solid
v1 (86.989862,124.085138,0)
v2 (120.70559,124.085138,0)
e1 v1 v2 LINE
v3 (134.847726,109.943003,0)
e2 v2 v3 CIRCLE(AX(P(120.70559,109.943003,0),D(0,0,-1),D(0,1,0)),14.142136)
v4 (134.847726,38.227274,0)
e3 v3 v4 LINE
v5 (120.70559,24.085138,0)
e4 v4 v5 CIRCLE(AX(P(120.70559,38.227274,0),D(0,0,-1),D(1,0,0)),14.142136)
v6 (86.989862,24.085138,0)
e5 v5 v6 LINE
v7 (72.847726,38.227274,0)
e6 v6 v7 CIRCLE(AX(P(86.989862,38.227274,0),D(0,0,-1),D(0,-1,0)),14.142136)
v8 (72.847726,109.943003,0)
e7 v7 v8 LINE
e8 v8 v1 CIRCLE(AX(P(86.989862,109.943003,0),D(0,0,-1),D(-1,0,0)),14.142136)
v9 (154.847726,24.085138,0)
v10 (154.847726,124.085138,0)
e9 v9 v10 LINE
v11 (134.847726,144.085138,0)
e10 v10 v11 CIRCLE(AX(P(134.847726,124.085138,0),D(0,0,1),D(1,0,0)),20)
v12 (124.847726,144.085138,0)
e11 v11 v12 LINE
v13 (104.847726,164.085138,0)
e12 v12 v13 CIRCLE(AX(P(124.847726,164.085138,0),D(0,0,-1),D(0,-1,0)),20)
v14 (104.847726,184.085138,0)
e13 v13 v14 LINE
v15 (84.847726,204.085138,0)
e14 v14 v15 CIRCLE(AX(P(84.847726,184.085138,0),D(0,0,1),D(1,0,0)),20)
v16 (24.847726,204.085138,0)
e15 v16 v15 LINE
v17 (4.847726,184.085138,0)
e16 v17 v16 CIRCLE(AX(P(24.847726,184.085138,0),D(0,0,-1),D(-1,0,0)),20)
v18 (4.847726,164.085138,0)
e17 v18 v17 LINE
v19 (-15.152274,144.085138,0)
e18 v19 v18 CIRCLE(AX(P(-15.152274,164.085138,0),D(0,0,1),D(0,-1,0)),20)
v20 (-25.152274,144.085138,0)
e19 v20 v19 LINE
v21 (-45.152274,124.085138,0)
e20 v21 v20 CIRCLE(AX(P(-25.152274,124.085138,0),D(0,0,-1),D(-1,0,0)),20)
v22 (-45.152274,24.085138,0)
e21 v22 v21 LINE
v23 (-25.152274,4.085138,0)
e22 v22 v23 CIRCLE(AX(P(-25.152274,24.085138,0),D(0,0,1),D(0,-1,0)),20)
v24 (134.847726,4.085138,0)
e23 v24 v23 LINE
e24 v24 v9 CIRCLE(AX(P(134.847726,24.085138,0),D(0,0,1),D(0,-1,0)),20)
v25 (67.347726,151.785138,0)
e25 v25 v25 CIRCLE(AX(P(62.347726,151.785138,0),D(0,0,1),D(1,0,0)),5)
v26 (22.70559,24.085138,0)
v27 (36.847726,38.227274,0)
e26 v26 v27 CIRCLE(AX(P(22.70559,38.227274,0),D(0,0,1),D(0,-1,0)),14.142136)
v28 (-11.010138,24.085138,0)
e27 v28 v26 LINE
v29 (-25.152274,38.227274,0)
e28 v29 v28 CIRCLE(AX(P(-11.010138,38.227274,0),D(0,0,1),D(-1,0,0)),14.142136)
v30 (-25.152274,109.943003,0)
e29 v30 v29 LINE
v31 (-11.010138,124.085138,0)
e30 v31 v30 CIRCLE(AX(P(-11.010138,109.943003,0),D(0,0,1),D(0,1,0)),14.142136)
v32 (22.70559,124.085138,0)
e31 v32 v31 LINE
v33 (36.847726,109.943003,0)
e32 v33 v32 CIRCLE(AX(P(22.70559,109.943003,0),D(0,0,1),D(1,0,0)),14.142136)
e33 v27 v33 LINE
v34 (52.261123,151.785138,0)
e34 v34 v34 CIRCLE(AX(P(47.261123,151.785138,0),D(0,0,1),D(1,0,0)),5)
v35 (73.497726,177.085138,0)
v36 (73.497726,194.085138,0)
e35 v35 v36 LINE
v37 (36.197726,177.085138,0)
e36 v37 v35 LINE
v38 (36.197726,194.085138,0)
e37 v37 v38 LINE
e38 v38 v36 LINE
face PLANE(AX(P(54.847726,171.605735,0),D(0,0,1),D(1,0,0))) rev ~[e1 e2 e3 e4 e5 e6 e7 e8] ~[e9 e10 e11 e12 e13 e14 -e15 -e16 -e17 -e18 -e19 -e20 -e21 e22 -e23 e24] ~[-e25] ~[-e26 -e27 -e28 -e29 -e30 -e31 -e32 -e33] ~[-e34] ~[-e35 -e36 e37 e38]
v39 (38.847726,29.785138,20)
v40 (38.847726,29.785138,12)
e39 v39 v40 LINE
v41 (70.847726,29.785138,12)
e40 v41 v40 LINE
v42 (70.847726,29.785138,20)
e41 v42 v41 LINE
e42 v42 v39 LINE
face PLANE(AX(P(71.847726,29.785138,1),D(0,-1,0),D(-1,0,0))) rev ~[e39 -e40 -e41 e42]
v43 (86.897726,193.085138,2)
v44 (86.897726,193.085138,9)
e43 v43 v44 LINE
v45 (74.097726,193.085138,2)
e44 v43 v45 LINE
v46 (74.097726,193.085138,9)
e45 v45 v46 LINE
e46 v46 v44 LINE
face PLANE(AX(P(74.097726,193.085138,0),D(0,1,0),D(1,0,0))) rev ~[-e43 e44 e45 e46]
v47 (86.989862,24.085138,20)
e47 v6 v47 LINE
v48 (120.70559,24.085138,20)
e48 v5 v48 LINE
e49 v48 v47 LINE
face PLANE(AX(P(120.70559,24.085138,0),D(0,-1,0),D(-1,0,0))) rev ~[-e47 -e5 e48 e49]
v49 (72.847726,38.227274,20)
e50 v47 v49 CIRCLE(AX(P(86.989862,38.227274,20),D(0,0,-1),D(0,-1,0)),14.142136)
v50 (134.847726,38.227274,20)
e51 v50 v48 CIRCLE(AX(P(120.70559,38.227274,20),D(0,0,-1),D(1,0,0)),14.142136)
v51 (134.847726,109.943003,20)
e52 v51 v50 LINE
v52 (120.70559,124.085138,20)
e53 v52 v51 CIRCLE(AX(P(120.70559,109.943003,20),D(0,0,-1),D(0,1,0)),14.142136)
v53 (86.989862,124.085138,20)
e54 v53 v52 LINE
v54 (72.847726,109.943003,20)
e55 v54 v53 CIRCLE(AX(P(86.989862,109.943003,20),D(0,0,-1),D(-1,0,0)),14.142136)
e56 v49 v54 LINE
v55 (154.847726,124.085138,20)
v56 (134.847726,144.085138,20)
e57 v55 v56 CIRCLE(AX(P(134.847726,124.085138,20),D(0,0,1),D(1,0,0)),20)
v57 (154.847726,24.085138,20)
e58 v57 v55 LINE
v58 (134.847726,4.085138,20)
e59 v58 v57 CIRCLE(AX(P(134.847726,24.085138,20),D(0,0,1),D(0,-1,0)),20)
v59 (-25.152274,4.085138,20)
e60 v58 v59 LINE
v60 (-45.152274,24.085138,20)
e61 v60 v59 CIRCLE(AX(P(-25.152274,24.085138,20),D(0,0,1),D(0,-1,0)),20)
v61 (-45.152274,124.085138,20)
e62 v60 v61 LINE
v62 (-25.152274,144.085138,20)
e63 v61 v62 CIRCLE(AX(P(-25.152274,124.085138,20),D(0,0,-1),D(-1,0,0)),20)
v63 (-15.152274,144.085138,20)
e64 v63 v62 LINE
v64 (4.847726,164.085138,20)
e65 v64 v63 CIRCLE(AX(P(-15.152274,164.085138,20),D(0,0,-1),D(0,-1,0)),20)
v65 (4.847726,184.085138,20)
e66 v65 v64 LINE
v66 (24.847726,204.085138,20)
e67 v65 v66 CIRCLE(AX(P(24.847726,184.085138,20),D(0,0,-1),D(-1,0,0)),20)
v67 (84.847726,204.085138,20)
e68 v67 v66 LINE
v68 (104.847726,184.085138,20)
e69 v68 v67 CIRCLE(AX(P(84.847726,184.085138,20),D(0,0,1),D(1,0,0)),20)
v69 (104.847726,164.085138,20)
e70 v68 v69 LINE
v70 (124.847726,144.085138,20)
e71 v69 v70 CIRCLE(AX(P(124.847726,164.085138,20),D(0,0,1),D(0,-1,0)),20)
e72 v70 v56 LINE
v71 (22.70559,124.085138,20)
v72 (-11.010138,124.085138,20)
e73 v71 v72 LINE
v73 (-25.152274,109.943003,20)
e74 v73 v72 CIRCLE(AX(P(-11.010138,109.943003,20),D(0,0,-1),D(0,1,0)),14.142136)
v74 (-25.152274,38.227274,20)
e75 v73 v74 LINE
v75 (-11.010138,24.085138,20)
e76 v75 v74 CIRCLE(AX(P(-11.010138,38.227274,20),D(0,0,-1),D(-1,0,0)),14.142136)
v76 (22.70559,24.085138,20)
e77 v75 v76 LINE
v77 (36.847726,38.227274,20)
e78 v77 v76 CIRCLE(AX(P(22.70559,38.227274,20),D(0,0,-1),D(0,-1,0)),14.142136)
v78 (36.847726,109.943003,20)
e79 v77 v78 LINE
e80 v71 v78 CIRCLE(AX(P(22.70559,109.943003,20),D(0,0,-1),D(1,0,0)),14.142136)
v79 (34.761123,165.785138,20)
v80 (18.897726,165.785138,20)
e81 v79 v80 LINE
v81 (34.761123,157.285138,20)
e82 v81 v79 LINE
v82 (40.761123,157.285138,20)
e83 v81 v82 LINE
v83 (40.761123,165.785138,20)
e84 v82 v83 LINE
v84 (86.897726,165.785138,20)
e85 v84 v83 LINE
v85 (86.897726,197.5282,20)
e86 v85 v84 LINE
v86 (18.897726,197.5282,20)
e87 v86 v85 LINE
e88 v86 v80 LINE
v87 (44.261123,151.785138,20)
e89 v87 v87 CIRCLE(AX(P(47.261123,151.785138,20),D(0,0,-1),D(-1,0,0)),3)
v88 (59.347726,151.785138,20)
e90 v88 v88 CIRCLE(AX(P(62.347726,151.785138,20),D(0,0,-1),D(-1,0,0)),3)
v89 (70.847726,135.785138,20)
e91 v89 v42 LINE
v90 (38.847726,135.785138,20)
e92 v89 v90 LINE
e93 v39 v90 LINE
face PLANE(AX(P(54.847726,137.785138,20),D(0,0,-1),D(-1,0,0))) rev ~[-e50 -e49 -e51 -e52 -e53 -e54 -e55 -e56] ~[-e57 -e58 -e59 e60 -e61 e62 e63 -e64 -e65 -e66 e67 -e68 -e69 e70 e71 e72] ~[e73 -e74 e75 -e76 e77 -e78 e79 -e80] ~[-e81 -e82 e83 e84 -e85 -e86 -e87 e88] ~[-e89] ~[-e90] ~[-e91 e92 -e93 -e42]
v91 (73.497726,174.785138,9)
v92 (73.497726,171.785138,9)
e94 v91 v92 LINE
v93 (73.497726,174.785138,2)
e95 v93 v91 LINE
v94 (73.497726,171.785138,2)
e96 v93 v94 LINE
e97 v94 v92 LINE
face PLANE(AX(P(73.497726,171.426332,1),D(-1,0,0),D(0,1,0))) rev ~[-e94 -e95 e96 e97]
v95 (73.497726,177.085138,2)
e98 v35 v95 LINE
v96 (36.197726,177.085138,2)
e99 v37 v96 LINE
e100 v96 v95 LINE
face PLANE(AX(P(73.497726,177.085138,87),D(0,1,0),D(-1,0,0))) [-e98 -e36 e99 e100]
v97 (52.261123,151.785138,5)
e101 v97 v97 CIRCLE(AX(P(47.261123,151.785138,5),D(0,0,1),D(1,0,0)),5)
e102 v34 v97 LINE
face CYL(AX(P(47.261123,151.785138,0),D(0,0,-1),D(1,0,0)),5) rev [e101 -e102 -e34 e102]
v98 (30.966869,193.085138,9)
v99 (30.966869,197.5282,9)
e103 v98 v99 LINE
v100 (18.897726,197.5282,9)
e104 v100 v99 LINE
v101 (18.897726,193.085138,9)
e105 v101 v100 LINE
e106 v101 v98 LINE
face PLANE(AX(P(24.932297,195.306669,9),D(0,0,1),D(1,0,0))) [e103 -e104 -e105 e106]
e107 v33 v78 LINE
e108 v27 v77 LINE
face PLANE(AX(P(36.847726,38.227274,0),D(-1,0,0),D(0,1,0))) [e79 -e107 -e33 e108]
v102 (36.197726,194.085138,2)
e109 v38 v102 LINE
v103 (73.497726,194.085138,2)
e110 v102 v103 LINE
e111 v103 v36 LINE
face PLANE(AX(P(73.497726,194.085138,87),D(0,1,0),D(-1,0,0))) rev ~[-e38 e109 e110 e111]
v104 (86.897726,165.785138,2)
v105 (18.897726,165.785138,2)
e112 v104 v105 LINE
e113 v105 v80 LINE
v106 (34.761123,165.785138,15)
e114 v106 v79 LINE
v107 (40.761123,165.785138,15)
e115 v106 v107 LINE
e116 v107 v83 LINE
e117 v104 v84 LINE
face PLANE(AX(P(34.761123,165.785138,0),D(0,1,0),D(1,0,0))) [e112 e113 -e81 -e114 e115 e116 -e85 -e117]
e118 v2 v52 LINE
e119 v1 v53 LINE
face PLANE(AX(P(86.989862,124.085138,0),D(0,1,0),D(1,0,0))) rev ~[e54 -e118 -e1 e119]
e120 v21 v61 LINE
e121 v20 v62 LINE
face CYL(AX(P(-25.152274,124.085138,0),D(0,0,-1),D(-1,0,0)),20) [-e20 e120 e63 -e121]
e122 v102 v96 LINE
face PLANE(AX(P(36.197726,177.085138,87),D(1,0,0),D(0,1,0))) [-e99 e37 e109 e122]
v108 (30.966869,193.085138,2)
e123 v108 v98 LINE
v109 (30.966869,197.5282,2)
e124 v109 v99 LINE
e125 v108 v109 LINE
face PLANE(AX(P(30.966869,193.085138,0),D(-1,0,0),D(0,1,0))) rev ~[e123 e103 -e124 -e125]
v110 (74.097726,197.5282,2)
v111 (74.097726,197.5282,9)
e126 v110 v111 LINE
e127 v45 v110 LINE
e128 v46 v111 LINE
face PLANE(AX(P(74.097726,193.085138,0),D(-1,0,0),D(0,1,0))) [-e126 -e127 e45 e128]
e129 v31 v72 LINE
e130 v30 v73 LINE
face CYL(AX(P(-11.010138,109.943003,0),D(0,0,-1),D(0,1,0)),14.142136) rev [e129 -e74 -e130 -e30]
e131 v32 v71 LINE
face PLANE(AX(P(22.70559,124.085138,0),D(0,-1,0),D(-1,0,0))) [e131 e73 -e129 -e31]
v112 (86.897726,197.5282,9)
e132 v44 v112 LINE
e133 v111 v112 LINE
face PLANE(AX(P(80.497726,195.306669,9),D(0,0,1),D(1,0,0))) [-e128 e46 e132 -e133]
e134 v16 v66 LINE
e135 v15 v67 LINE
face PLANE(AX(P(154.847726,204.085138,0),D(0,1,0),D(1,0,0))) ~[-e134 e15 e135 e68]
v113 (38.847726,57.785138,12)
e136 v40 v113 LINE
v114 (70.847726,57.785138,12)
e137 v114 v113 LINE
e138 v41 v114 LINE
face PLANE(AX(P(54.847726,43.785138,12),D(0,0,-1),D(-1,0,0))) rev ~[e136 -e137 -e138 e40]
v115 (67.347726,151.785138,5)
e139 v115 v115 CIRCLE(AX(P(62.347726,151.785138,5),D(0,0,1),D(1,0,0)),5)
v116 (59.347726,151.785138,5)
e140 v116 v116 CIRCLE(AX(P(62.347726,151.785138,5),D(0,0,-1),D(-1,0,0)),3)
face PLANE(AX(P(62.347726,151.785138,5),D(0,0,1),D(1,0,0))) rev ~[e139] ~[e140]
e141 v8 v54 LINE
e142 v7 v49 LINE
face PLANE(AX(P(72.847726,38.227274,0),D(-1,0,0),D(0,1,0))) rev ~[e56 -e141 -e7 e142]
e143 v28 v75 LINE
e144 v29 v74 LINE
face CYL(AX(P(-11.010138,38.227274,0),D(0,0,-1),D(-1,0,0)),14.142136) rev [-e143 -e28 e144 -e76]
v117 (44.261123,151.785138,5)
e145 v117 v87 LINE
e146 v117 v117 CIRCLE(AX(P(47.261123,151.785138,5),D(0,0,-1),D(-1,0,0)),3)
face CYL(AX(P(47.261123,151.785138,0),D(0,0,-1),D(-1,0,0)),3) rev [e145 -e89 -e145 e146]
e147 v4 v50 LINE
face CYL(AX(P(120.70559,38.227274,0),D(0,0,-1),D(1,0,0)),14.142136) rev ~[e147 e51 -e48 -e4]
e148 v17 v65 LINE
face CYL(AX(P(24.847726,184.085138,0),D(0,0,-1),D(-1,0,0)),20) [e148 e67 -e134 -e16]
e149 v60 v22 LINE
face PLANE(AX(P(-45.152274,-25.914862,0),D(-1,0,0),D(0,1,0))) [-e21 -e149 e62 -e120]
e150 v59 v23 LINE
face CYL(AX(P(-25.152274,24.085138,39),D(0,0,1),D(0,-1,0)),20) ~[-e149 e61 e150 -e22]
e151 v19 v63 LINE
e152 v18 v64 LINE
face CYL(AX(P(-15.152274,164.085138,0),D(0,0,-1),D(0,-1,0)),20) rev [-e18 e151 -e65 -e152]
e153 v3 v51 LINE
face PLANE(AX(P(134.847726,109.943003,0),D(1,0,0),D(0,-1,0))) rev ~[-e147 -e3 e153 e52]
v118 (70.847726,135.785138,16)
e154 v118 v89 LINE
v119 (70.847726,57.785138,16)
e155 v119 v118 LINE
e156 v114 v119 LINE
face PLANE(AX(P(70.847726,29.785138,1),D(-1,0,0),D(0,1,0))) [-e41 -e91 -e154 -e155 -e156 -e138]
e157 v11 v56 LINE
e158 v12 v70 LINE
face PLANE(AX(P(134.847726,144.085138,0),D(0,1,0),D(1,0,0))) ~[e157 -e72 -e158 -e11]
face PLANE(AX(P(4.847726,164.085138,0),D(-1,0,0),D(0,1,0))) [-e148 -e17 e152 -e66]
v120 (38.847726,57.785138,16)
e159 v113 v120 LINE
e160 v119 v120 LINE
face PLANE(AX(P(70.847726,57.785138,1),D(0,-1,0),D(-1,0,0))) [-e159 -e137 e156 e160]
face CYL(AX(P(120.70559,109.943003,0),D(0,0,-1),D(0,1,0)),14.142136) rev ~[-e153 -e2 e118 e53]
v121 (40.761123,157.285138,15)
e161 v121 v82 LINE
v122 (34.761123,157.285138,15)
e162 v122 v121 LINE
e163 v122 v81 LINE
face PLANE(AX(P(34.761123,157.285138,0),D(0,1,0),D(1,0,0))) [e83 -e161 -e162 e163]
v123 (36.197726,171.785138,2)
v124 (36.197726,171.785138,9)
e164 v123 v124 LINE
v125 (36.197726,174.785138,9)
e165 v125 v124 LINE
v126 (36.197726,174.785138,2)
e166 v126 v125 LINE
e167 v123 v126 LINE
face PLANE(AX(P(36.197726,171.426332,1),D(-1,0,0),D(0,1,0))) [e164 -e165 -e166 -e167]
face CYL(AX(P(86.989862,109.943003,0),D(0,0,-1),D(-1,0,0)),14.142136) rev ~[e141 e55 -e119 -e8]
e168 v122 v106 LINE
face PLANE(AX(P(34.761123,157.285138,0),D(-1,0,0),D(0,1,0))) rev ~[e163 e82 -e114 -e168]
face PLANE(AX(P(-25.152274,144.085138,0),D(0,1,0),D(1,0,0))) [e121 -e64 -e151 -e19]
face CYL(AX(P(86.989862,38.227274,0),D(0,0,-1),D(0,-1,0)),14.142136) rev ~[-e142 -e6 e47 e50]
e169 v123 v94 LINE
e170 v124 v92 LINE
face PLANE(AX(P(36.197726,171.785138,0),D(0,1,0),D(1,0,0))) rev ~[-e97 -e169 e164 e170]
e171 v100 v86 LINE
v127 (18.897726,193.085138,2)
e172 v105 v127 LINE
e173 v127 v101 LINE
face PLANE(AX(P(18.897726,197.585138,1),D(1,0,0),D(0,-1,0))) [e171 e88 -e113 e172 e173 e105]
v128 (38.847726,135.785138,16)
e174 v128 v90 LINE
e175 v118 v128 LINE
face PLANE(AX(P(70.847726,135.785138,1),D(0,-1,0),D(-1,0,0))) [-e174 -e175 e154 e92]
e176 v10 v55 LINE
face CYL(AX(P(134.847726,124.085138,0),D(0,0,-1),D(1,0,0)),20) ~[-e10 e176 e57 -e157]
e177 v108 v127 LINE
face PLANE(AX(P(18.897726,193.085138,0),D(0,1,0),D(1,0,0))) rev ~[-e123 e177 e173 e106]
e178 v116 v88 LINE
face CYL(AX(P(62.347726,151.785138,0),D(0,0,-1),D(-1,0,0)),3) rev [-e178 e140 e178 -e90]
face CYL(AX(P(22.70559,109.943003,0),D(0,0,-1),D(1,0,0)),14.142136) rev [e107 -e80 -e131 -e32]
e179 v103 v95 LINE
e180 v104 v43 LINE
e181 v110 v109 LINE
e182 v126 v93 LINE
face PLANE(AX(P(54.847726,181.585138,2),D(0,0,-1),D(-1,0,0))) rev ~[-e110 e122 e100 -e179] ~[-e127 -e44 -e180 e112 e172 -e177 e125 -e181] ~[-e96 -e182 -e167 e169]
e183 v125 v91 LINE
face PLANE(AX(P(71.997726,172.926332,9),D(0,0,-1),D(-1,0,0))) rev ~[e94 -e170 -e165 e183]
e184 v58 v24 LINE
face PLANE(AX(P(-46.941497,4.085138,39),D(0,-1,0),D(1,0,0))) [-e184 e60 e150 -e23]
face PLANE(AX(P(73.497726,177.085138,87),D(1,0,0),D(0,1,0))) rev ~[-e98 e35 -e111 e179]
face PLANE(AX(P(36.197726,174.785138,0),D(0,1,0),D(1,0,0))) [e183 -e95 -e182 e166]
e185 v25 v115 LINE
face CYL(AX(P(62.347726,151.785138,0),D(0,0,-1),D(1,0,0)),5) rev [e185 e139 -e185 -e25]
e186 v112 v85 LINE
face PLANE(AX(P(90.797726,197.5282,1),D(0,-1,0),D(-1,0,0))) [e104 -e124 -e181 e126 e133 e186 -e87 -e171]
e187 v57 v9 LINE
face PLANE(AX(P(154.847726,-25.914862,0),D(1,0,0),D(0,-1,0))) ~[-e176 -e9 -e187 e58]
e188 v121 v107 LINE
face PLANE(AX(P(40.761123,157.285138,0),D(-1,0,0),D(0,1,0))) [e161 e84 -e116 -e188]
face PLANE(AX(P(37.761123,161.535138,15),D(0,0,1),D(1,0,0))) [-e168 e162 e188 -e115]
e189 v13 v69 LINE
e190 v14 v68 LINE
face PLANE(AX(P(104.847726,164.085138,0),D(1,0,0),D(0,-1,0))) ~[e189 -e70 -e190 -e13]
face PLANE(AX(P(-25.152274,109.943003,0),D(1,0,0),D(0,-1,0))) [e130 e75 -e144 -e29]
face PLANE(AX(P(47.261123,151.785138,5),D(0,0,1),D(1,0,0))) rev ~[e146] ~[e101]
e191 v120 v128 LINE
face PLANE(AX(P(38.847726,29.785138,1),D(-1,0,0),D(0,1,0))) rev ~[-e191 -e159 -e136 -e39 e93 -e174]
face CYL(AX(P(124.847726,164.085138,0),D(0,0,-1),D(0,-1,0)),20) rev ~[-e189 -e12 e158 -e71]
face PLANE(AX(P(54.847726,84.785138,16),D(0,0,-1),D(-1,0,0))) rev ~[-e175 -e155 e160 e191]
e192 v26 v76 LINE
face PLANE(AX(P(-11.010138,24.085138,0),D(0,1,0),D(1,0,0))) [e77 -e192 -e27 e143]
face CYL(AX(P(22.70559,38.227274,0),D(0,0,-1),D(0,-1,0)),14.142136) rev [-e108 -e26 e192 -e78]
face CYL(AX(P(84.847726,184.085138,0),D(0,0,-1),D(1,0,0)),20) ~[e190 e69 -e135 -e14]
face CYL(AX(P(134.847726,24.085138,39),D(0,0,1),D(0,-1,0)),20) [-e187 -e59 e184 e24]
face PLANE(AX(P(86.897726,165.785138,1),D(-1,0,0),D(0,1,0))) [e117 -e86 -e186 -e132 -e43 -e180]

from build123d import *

# Parameters (mm, degrees)
IZIM1_W                      = 200
IZIM1_H                      = 230
Y_KSEKLIK_EKSTR_ZYON1_DEPTH  = 20
KES_EKSTR_ZYON11_DEPTH       = 75
IZIM4_W                      = 100
IZIM4_H                      = 230
KES_EKSTR_ZYON12_DEPTH       = 90
IZIM10_W                     = 32
IZIM10_H                     = 136
Y_KSEKLIK_EKSTR_ZYON6_DEPTH  = 20
KES_EKSTR_ZYON15_DEPTH       = 222
KES_EKSTR_ZYON15_DEPTH_BACK  = 26
Y_KSEKLIK_EKSTR_ZYON7_DEPTH  = 20
IZIM16_W                     = 37.3
IZIM16_H                     = 17
KES_EKSTR_ZYON16_DEPTH       = 20
KES_EKSTR_ZYON20_DEPTH       = 42
KES_EKSTR_ZYON21_DEPTH       = 42
IZIM20_W                     = 71.9
IZIM20_H                     = 2
KES_EKSTR_ZYON22_DEPTH       = 42
IZIM21_R                     = 1.5
Y_KSEKLIK_EKSTR_ZYON8_DEPTH  = 15
IZIM22_W                     = 3
IZIM22_H                     = 3
Y_KSEKLIK_EKSTR_ZYON9_DEPTH  = 8
IZIM23_W                     = 71.9
IZIM23_H                     = 36
Y_KSEKLIK_EKSTR_ZYON10_DEPTH = 1
KES_EKSTR_ZYON23_DEPTH       = 56
KES_EKSTR_ZYON23_DEPTH_BACK  = 86
IZIM24_W                     = 37.3
IZIM24_H                     = 17
IZIM26_W                     = 3
IZIM26_H                     = 3
Y_KSEKLIK_EKSTR_ZYON11_DEPTH = 8
IZIM27_W                     = 71.9
IZIM27_H                     = 2.056938391
Y_KSEKLIK_EKSTR_ZYON13_DEPTH = 19
Y_KSEKLIK_EKSTR_ZYON16_DEPTH = 19
IZIM31_W                     = 3
IZIM31_H                     = 3
Y_KSEKLIK_EKSTR_ZYON18_DEPTH = 8
IZIM32_R                     = 1.5
KES_EKSTR_ZYON24_DEPTH       = 32
IZIM33_R                     = 1.5
Y_KSEKLIK_EKSTR_ZYON19_DEPTH = 12
KES_EKSTR_ZYON27_DEPTH       = 1
KES_EKSTR_ZYON27_DEPTH_BACK  = 3
IZIM37_R                     = 2.5
KES_EKSTR_ZYON28_DEPTH       = 33
IZIM38_W                     = 34
IZIM38_H                     = 110
KES_EKSTR_ZYON33_DEPTH       = 42
IZIM40_W                     = 34
IZIM40_H                     = 110
Y_KSEKLIK_EKSTR_ZYON21_DEPTH = 15
IZIM41_W                     = 4
IZIM41_H                     = 8.5
KES_EKSTR_ZYON35_DEPTH       = 21
IZIM44_W                     = 4
IZIM44_H                     = 8.5
Y_KSEKLIK_EKSTR_ZYON23_DEPTH = 14
IZIM45_W                     = 1
IZIM45_H                     = 110
Y_KSEKLIK_EKSTR_ZYON25_DEPTH = 19
IZIM46_W                     = 12.0691428
IZIM46_H                     = 4.443061609
IZIM46_W_2                   = 12.8
Y_KSEKLIK_EKSTR_ZYON27_DEPTH = 8
IZIM47_W                     = 37.3
IZIM47_H                     = 3
Y_KSEKLIK_EKSTR_ZYON28_DEPTH = 8
KES_EKSTR_ZYON36_DEPTH       = 10
KES_EKSTR_ZYON36_DEPTH_BACK  = 38
IZIM48_W                     = 201.789222688
IZIM48_H                     = 30
KES_EKSTR_ZYON37_DEPTH       = 38
KES_EKSTR_ZYON37_DEPTH_BACK  = 38
KES_EKSTR_ZYON38_DEPTH       = 38
KES_EKSTR_ZYON38_DEPTH_BACK  = 38
SKETCH1_W                    = 32
SKETCH1_H                    = 28
CUT_EXTRUDE1_DEPTH           = 55
SKETCH2_W                    = 32
SKETCH2_H                    = 28
BOSS_EXTRUDE1_DEPTH          = 11
SKETCH3_W                    = 32
SKETCH3_H                    = 4
BOSS_EXTRUDE2_DEPTH          = 19
SKETCH4_W                    = 37.3
SKETCH4_H                    = 0.358806935
CUT_EXTRUDE3_DEPTH           = 11
SKETCH5_W                    = 37.3
SKETCH5_H                    = 0.35880693
BOSS_EXTRUDE3_DEPTH          = 9
SKETCH6_W                    = 37.3
SKETCH6_H                    = 0.358806935
BOSS_EXTRUDE4_DEPTH          = 2
SKETCH7_W                    = 6
SKETCH7_H                    = 8.5
CUT_EXTRUDE4_DEPTH           = 20
SKETCH8_W                    = 6
SKETCH8_H                    = 8.5
BOSS_EXTRUDE5_DEPTH          = 15
SKETCH9_R                    = 3
CUT_EXTRUDE5_DEPTH           = 27
SKETCH10_W                   = 12.0691428
SKETCH10_H                   = 4.443061609
CUT_EXTRUDE8_DEPTH           = 20
SKETCH11_W                   = 12.8
SKETCH11_H                   = 4.443061609
CUT_EXTRUDE9_DEPTH           = 22
SKETCH12_W                   = 12.0691428
SKETCH12_H                   = 4.443061609
SKETCH12_W_2                 = 12.8
BOSS_EXTRUDE6_DEPTH          = 9
CUT_EXTRUDE10_DEPTH          = 37
SKETCH14_R                   = 5
CUT_EXTRUDE11_DEPTH          = 5


with BuildPart() as part:
    # Çizim1 → Yükseklik-Ekstrüzyon1 (new body)
    with BuildSketch(Plane.XY):
        with Locations((54.847725907, 89.085138461)):
            Rectangle(IZIM1_W, IZIM1_H)
    extrude(amount=Y_KSEKLIK_EKSTR_ZYON1_DEPTH)

    # Çizim2 → Kes-Ekstrüzyon11 (cut)
    with BuildSketch(Plane.XY):
        with BuildLine():
            Line((4.847725907, 164.085138461), (4.847725907, 184.085138461))
            ThreePointArc((4.847725907, 184.085138461), (10.705590284, 198.227274085), (24.847725907, 204.085138461))
            Line((24.847725907, 204.085138461), (-45.152274093, 204.085138461))
            Line((-45.152274093, 204.085138461), (-45.152274093, 124.085138461))
            ThreePointArc((-45.152274093, 124.085138461), (-39.294409716, 138.227274085), (-25.152274093, 144.085138461))
            Line((-25.152274093, 144.085138461), (-15.152274093, 144.085138461))
            ThreePointArc((-15.152274093, 144.085138461), (-1.010138469, 149.943002837), (4.847725907, 164.085138461))
        make_face()
        with BuildLine():
            Line((-45.152274093, -25.914861539), (-25.152274093, -25.914861539))
            ThreePointArc((-25.152274093, -25.914861539), (-39.294409716, -20.056997163), (-45.152274093, -5.914861539))
            Line((-45.152274093, -5.914861539), (-45.152274093, -25.914861539))
        make_face()
    extrude(amount=KES_EKSTR_ZYON11_DEPTH, mode=Mode.SUBTRACT)

    # Çizim4 → Kes-Ekstrüzyon12 (cut)
    with BuildSketch(Plane.XY):
        with Locations((104.847725907, 89.085138461)):
            Rectangle(IZIM4_W, IZIM4_H)
    extrude(amount=KES_EKSTR_ZYON12_DEPTH, mode=Mode.SUBTRACT)

    # Aynalama35: part across plane


with BuildPart() as part_1:
    add(part.part)
    add(part.part.mirror(Plane(origin=(54.847725907, 0, 90), x_dir=(0, 0, 1), z_dir=(-1, 0, 0))))

    # Çizim10 → Yükseklik-Ekstrüzyon6 (add)
    with BuildSketch(Plane.XY):
        Polygon((38.847725907, 129.085138461), (72.847725907, 129.085138461), (72.847725907, -10.914861539), (36.847725907, -10.914861539), (36.847725907, 129.085138461), align=None)
        with Locations((54.847725907, 59.085138461)):
            Rectangle(IZIM10_W, IZIM10_H, mode=Mode.SUBTRACT)
    extrude(amount=-Y_KSEKLIK_EKSTR_ZYON6_DEPTH)

    # Çizim11 → Kes-Ekstrüzyon15 (cut, two sides: drawn at the far end of the back side and taken through both)
    with BuildSketch(Plane(origin=(0, 0, 0), x_dir=(0, 0, -1), z_dir=(1, 0, 0)).offset(-KES_EKSTR_ZYON15_DEPTH_BACK)):
        Polygon((20, -10.914861539), (14, -10.914861539), (20, 129.085138461), align=None)
    extrude(amount=KES_EKSTR_ZYON15_DEPTH + KES_EKSTR_ZYON15_DEPTH_BACK, mode=Mode.SUBTRACT)

    # Çizim15 → Yükseklik-Ekstrüzyon7 (add)
    with BuildSketch(Plane.XY):
        with BuildLine():
            Line((-45.152274093, 124.085138461), (-45.152274093, -5.914861539))
            ThreePointArc((-45.152274093, -5.914861539), (-39.294409716, -20.056997163), (-25.152274093, -25.914861539))
            Line((-25.152274093, -25.914861539), (134.847725907, -25.914861539))
            ThreePointArc((134.847725907, -25.914861539), (148.989861531, -20.056997163), (154.847725907, -5.914861539))
            Line((154.847725907, -5.914861539), (154.847725907, 124.085138461))
            ThreePointArc((154.847725907, 124.085138461), (148.989861531, 138.227274085), (134.847725907, 144.085138461))
            Line((134.847725907, 144.085138461), (124.847725907, 144.085138461))
            ThreePointArc((124.847725907, 144.085138461), (110.705590284, 149.943002837), (104.847725907, 164.085138461))
            Line((104.847725907, 164.085138461), (104.847725907, 184.085138461))
            ThreePointArc((104.847725907, 184.085138461), (98.989861531, 198.227274085), (84.847725907, 204.085138461))
            Line((84.847725907, 204.085138461), (24.847725907, 204.085138461))
            ThreePointArc((24.847725907, 204.085138461), (10.705590284, 198.227274085), (4.847725907, 184.085138461))
            Line((4.847725907, 184.085138461), (4.847725907, 164.085138461))
            ThreePointArc((4.847725907, 164.085138461), (-1.010138469, 149.943002837), (-15.152274093, 144.085138461))
            Line((-15.152274093, 144.085138461), (-25.152274093, 144.085138461))
            ThreePointArc((-25.152274093, 144.085138461), (-39.294409716, 138.227274085), (-45.152274093, 124.085138461))
        make_face()
    extrude(amount=Y_KSEKLIK_EKSTR_ZYON7_DEPTH)

    # Çizim16 → Kes-Ekstrüzyon16 (cut)
    with BuildSketch(Plane.XY):
        with Locations((54.847725907, 185.585138461)):
            Rectangle(IZIM16_W, IZIM16_H)
    extrude(amount=KES_EKSTR_ZYON16_DEPTH, mode=Mode.SUBTRACT)

    # Çizim18 → Kes-Ekstrüzyon20 (cut)
    with BuildSketch(Plane(origin=(0, 0, 1), x_dir=(-1, 0, 0), z_dir=(0, 0, -1))):
        Polygon((-90.797725907, 197.585138461), (-90.797725907, 185.585138461), (-90.797725907, 163.585138461), (-18.897725907, 163.585138461), (-18.897725907, 197.585138461), align=None)
    extrude(amount=-KES_EKSTR_ZYON20_DEPTH, mode=Mode.SUBTRACT)

    # Çizim19 → Kes-Ekstrüzyon21 (cut)
    with BuildSketch(Plane(origin=(72.847725907, 0, 0), x_dir=(0, 0, -1), z_dir=(1, 0, 0))):
        Polygon((0, 129.085138461), (20, 129.085138461), (14, -10.914861539), (0, -10.914861539), align=None)
    extrude(amount=-KES_EKSTR_ZYON21_DEPTH, mode=Mode.SUBTRACT)

    # Çizim20 → Kes-Ekstrüzyon22 (cut)
    with BuildSketch(Plane(origin=(0, 0, 1), x_dir=(-1, 0, 0), z_dir=(0, 0, -1))):
        with Locations((-54.847725907, 198.585138461)):
            Rectangle(IZIM20_W, IZIM20_H)
    extrude(amount=-KES_EKSTR_ZYON22_DEPTH, mode=Mode.SUBTRACT)

    # Çizim21 → Yükseklik-Ekstrüzyon8 (add)
    with BuildSketch(Plane.XY.offset(1)):
        with Locations((27.697725907, 194.585138461)):
            Circle(IZIM21_R)
        with Locations((75.597725907, 194.585138461)):
            Circle(IZIM21_R)
    extrude(amount=Y_KSEKLIK_EKSTR_ZYON8_DEPTH)

    # Çizim22 → Yükseklik-Ekstrüzyon9 (add)
    with BuildSketch(Plane(origin=(0, 0, 1), x_dir=(-1, 0, 0), z_dir=(0, 0, -1))):
        with Locations((-71.997725907, 172.926331526)):
            Rectangle(IZIM22_W, IZIM22_H)
        with Locations((-37.697725907, 172.926331526)):
            Rectangle(IZIM22_W, IZIM22_H)
    extrude(amount=-Y_KSEKLIK_EKSTR_ZYON9_DEPTH)

    # Çizim23 → Yükseklik-Ekstrüzyon10 (add)
    with BuildSketch(Plane(origin=(0, 0, 1), x_dir=(-1, 0, 0), z_dir=(0, 0, -1))):
        with Locations((-54.847725907, 181.585138461)):
            Rectangle(IZIM23_W, IZIM23_H)
    extrude(amount=-Y_KSEKLIK_EKSTR_ZYON10_DEPTH)

    # Çizim24 → Kes-Ekstrüzyon23 (cut, two sides: drawn at the far end of the back side and taken through both)
    with BuildSketch(Plane(origin=(0, 0, 1), x_dir=(-1, 0, 0), z_dir=(0, 0, -1)).offset(-KES_EKSTR_ZYON23_DEPTH_BACK)):
        with Locations((-54.847725907, 185.585138461)):
            Rectangle(IZIM24_W, IZIM24_H)
    extrude(amount=KES_EKSTR_ZYON23_DEPTH + KES_EKSTR_ZYON23_DEPTH_BACK, mode=Mode.SUBTRACT)

    # Çizim26 → Yükseklik-Ekstrüzyon11 (add)
    with BuildSketch(Plane(origin=(0, 0, 1), x_dir=(-1, 0, 0), z_dir=(0, 0, -1))):
        with Locations((-37.697725907, 172.926331526)):
            Rectangle(IZIM26_W, IZIM26_H)
    extrude(amount=-Y_KSEKLIK_EKSTR_ZYON11_DEPTH)

    # Çizim27 → Yükseklik-Ekstrüzyon13 (add)
    with BuildSketch(Plane(origin=(0, 0, 1), x_dir=(-1, 0, 0), z_dir=(0, 0, -1))):
        with Locations((-54.847725907, 198.556669266)):
            Rectangle(IZIM27_W, IZIM27_H)
    extrude(amount=-Y_KSEKLIK_EKSTR_ZYON13_DEPTH)

    # Çizim29 → Yükseklik-Ekstrüzyon16 (add)
    with BuildSketch(Plane(origin=(0, 0, 1), x_dir=(-1, 0, 0), z_dir=(0, 0, -1))):
        Polygon((-18.897725907, 163.585138461), (-18.897725907, 165.785138461), (-86.897725907, 165.785138461), (-86.897725907, 197.52820007), (-90.797725907, 197.52820007), (-90.797725907, 163.585138461), align=None)
    extrude(amount=-Y_KSEKLIK_EKSTR_ZYON16_DEPTH)

    # Çizim31 → Yükseklik-Ekstrüzyon18 (add)
    with BuildSketch(Plane(origin=(0, 0, 1), x_dir=(-1, 0, 0), z_dir=(0, 0, -1))):
        with Locations((-37.697725907, 172.926331526)):
            Rectangle(IZIM31_W, IZIM31_H)
        with Locations((-71.997725907, 172.926331526)):
            Rectangle(IZIM31_W, IZIM31_H)
    extrude(amount=-Y_KSEKLIK_EKSTR_ZYON18_DEPTH)

    # Çizim32 → Kes-Ekstrüzyon24 (cut)
    with BuildSketch(Plane(origin=(0, 0, 1), x_dir=(-1, 0, 0), z_dir=(0, 0, -1))):
        with Locations((-27.697725907, 194.585138461)):
            Circle(IZIM32_R)
        with Locations((-75.597725907, 194.585138461)):
            Circle(IZIM32_R)
    extrude(amount=-KES_EKSTR_ZYON24_DEPTH, mode=Mode.SUBTRACT)

    # Çizim33 → Yükseklik-Ekstrüzyon19 (add)
    with BuildSketch(Plane(origin=(0, 0, 1), x_dir=(-1, 0, 0), z_dir=(0, 0, -1))):
        with Locations((-27.697725907, 194.585138461)):
            Circle(IZIM33_R)
        with Locations((-75.597725907, 194.585138461)):
            Circle(IZIM33_R)
    extrude(amount=-Y_KSEKLIK_EKSTR_ZYON19_DEPTH)

    # Çizim34 → Kes-Ekstrüzyon27 (cut, two sides: drawn at the far end of the back side and taken through both)
    with BuildSketch(Plane(origin=(0, 0, 1), x_dir=(-1, 0, 0), z_dir=(0, 0, -1)).offset(-KES_EKSTR_ZYON27_DEPTH_BACK)):
        Polygon((-50.869562549, 153.785138461), (-51.995395574, 151.835138461), (-49.628259471, 147.735138461), (-44.893987263, 147.735138461), (-42.52685116, 151.835138461), (-44.893987263, 155.935138461), (-49.628259471, 155.935138461), align=None)
        Polygon((-64.714862011, 155.885138461), (-67.081998115, 151.785138461), (-64.714862011, 147.685138461), (-59.980589804, 147.685138461), (-57.6134537, 151.785138461), (-58.768154238, 153.785138461), (-59.980589804, 155.885138461), align=None)
    extrude(amount=KES_EKSTR_ZYON27_DEPTH + KES_EKSTR_ZYON27_DEPTH_BACK, mode=Mode.SUBTRACT)

    # Çizim37 → Kes-Ekstrüzyon28 (cut)
    with BuildSketch(Plane(origin=(0, 0, 1), x_dir=(-1, 0, 0), z_dir=(0, 0, -1))):
        with Locations((-62.347725907, 151.785138461)):
            Circle(IZIM37_R)
        with Locations((-47.261123367, 151.785138461)):
            Circle(IZIM37_R)
    extrude(amount=-KES_EKSTR_ZYON28_DEPTH, mode=Mode.SUBTRACT)

    # Çizim38 → Kes-Ekstrüzyon33 (cut)
    with BuildSketch(Plane(origin=(0, 0, 1), x_dir=(-1, 0, 0), z_dir=(0, 0, -1))):
        with Locations((-54.847725907, 84.785138461)):
            Rectangle(IZIM38_W, IZIM38_H)
    extrude(amount=-KES_EKSTR_ZYON33_DEPTH, mode=Mode.SUBTRACT)

    # Çizim40 → Yükseklik-Ekstrüzyon21 (add)
    with BuildSketch(Plane(origin=(0, 0, 1), x_dir=(-1, 0, 0), z_dir=(0, 0, -1))):
        with Locations((-54.847725907, 84.785138461)):
            Rectangle(IZIM40_W, IZIM40_H)
    extrude(amount=-Y_KSEKLIK_EKSTR_ZYON21_DEPTH)

    # Çizim41 → Kes-Ekstrüzyon35 (cut)
    with BuildSketch(Plane(origin=(0, 0, 1), x_dir=(-1, 0, 0), z_dir=(0, 0, -1))):
        with Locations((-37.761123367, 161.535138461)):
            Rectangle(IZIM41_W, IZIM41_H)
    extrude(amount=-KES_EKSTR_ZYON35_DEPTH, mode=Mode.SUBTRACT)

    # Çizim44 → Yükseklik-Ekstrüzyon23 (add)
    with BuildSketch(Plane(origin=(0, 0, 1), x_dir=(-1, 0, 0), z_dir=(0, 0, -1))):
        with Locations((-37.761123367, 161.535138461)):
            Rectangle(IZIM44_W, IZIM44_H)
    extrude(amount=-Y_KSEKLIK_EKSTR_ZYON23_DEPTH)

    # Çizim45 → Yükseklik-Ekstrüzyon25 (add)
    with BuildSketch(Plane(origin=(0, 0, 1), x_dir=(-1, 0, 0), z_dir=(0, 0, -1))):
        with Locations((-38.347725907, 84.785138461)):
            Rectangle(IZIM45_W, IZIM45_H)
        with Locations((-71.347725907, 84.785138461)):
            Rectangle(IZIM45_W, IZIM45_H)
    extrude(amount=-Y_KSEKLIK_EKSTR_ZYON25_DEPTH)

    # Çizim46 → Yükseklik-Ekstrüzyon27 (add)
    with BuildSketch(Plane(origin=(0, 0, 1), x_dir=(-1, 0, 0), z_dir=(0, 0, -1))):
        with Locations((-24.932297307, 195.306669266)):
            Rectangle(IZIM46_W, IZIM46_H)
        with Locations((-80.497725907, 195.306669266)):
            Rectangle(IZIM46_W_2, IZIM46_H)
    extrude(amount=-Y_KSEKLIK_EKSTR_ZYON27_DEPTH)

    # Çizim47 → Yükseklik-Ekstrüzyon28 (add)
    with BuildSketch(Plane(origin=(0, 0, 1), x_dir=(-1, 0, 0), z_dir=(0, 0, -1))):
        with Locations((-54.847725907, 172.926331526)):
            Rectangle(IZIM47_W, IZIM47_H)
    extrude(amount=-Y_KSEKLIK_EKSTR_ZYON28_DEPTH)

    # Çizim48 → Kes-Ekstrüzyon36 (cut, two sides: drawn at the far end of the back side and taken through both)
    with BuildSketch(Plane(origin=(0, 0, 1), x_dir=(-1, 0, 0), z_dir=(0, 0, -1)).offset(-KES_EKSTR_ZYON36_DEPTH_BACK)):
        with Locations((-53.953114563, -10.914861539)):
            Rectangle(IZIM48_W, IZIM48_H)
    extrude(amount=KES_EKSTR_ZYON36_DEPTH + KES_EKSTR_ZYON36_DEPTH_BACK, mode=Mode.SUBTRACT)

    # Çizim49 → Kes-Ekstrüzyon37 (cut, two sides: drawn at the far end of the back side and taken through both)
    with BuildSketch(Plane(origin=(0, 0, 1), x_dir=(-1, 0, 0), z_dir=(0, 0, -1)).offset(-KES_EKSTR_ZYON37_DEPTH_BACK)):
        with BuildLine():
            Line((-154.847725907, 4.085138461), (-134.847725907, 4.085138461))
            ThreePointArc((-134.847725907, 4.085138461), (-148.989861531, 9.943002837), (-154.847725907, 24.085138461))
            Line((-154.847725907, 24.085138461), (-154.847725907, 4.085138461))
        make_face()
    extrude(amount=KES_EKSTR_ZYON37_DEPTH + KES_EKSTR_ZYON37_DEPTH_BACK, mode=Mode.SUBTRACT)

    # Çizim50 → Kes-Ekstrüzyon38 (cut, two sides: drawn at the far end of the back side and taken through both)
    with BuildSketch(Plane(origin=(0, 0, 1), x_dir=(-1, 0, 0), z_dir=(0, 0, -1)).offset(-KES_EKSTR_ZYON38_DEPTH_BACK)):
        with BuildLine():
            Line((45.152274093, 4.085138461), (25.152274093, 4.085138461))
            ThreePointArc((25.152274093, 4.085138461), (39.294409716, 9.943002837), (45.152274093, 24.085138461))
            Line((45.152274093, 24.085138461), (45.152274093, 4.085138461))
        make_face()
    extrude(amount=KES_EKSTR_ZYON38_DEPTH + KES_EKSTR_ZYON38_DEPTH_BACK, mode=Mode.SUBTRACT)

    # Sketch1 → Cut-Extrude1 (cut)
    with BuildSketch(Plane(origin=(0, 0, 1), x_dir=(-1, 0, 0), z_dir=(0, 0, -1))):
        with Locations((-54.847725907, 43.785138461)):
            Rectangle(SKETCH1_W, SKETCH1_H)
    extrude(amount=-CUT_EXTRUDE1_DEPTH, mode=Mode.SUBTRACT)

    # Sketch2 → Boss-Extrude1 (add)
    with BuildSketch(Plane(origin=(0, 0, 1), x_dir=(-1, 0, 0), z_dir=(0, 0, -1))):
        with Locations((-54.847725907, 43.785138461)):
            Rectangle(SKETCH2_W, SKETCH2_H)
    extrude(amount=-BOSS_EXTRUDE1_DEPTH)

    # Sketch3 → Boss-Extrude2 (add)
    with BuildSketch(Plane(origin=(0, 0, 1), x_dir=(-1, 0, 0), z_dir=(0, 0, -1))):
        with Locations((-54.847725907, 137.785138461)):
            Rectangle(SKETCH3_W, SKETCH3_H)
    extrude(amount=-BOSS_EXTRUDE2_DEPTH)

    # Sketch4 → Cut-Extrude3 (cut)
    with BuildSketch(Plane.XY):
        with Locations((54.847725907, 171.605734993)):
            Rectangle(SKETCH4_W, SKETCH4_H)
    extrude(amount=CUT_EXTRUDE3_DEPTH, mode=Mode.SUBTRACT)

    # Sketch5 → Boss-Extrude3 (add)
    with BuildSketch(Plane.XY):
        with Locations((54.847725907, 174.605734991)):
            Rectangle(SKETCH5_W, SKETCH5_H)
    extrude(amount=BOSS_EXTRUDE3_DEPTH)

    # Sketch6 → Boss-Extrude4 (add)
    with BuildSketch(Plane.XY):
        with Locations((54.847725907, 171.605734993)):
            Rectangle(SKETCH6_W, SKETCH6_H)
    extrude(amount=BOSS_EXTRUDE4_DEPTH)

    # Sketch7 → Cut-Extrude4 (cut)
    with BuildSketch(Plane.XY):
        with Locations((37.761123367, 161.535138461)):
            Rectangle(SKETCH7_W, SKETCH7_H)
    extrude(amount=CUT_EXTRUDE4_DEPTH, mode=Mode.SUBTRACT)

    # Sketch8 → Boss-Extrude5 (add)
    with BuildSketch(Plane.XY):
        with Locations((37.761123367, 161.535138461)):
            Rectangle(SKETCH8_W, SKETCH8_H)
    extrude(amount=BOSS_EXTRUDE5_DEPTH)

    # Sketch9 → Cut-Extrude5 (cut)
    with BuildSketch(Plane.XY):
        with Locations((62.347725907, 151.785138461)):
            Circle(SKETCH9_R)
        with Locations((47.261123367, 151.785138461)):
            Circle(SKETCH9_R)
    extrude(amount=CUT_EXTRUDE5_DEPTH, mode=Mode.SUBTRACT)

    # Sketch10 → Cut-Extrude8 (cut)
    with BuildSketch(Plane.XY):
        with Locations((24.932297307, 195.306669266)):
            Rectangle(SKETCH10_W, SKETCH10_H)
    extrude(amount=CUT_EXTRUDE8_DEPTH, mode=Mode.SUBTRACT)

    # Sketch11 → Cut-Extrude9 (cut)
    with BuildSketch(Plane.XY):
        with Locations((80.497725907, 195.306669266)):
            Rectangle(SKETCH11_W, SKETCH11_H)
    extrude(amount=CUT_EXTRUDE9_DEPTH, mode=Mode.SUBTRACT)

    # Sketch12 → Boss-Extrude6 (add)
    with BuildSketch(Plane.XY):
        with Locations((24.932297307, 195.306669266)):
            Rectangle(SKETCH12_W, SKETCH12_H)
        with Locations((80.497725907, 195.306669266)):
            Rectangle(SKETCH12_W_2, SKETCH12_H)
    extrude(amount=BOSS_EXTRUDE6_DEPTH)

    # Sketch13 → Cut-Extrude10 (cut)
    with BuildSketch(Plane.XY):
        with BuildLine():
            Line((-25.152274089, 109.943002837), (-25.152274089, 38.227274077))
            ThreePointArc((-25.152274089, 38.227274077), (-21.010138466, 28.22727408), (-11.010138469, 24.085138457))
            Line((-11.010138469, 24.085138457), (22.705590287, 24.085138457))
            ThreePointArc((22.705590287, 24.085138457), (32.705590285, 28.22727408), (36.847725907, 38.227274077))
            Line((36.847725907, 38.227274077), (36.847725907, 109.943002837))
            ThreePointArc((36.847725907, 109.943002837), (32.705590285, 119.943002835), (22.705590287, 124.085138457))
            Line((22.705590287, 124.085138457), (-11.010138469, 124.085138457))
            ThreePointArc((-11.010138469, 124.085138457), (-21.010138466, 119.943002835), (-25.152274089, 109.943002837))
        make_face()
        with BuildLine():
            Line((120.705590284, 24.085138457), (86.989861527, 24.085138457))
            ThreePointArc((86.989861527, 24.085138457), (76.98986153, 28.22727408), (72.847725907, 38.227274077))
            Line((72.847725907, 38.227274077), (72.847725907, 109.943002837))
            ThreePointArc((72.847725907, 109.943002837), (76.98986153, 119.943002835), (86.989861527, 124.085138457))
            Line((86.989861527, 124.085138457), (120.705590284, 124.085138457))
            ThreePointArc((120.705590284, 124.085138457), (130.705590281, 119.943002835), (134.847725904, 109.943002837))
            Line((134.847725904, 109.943002837), (134.847725904, 38.227274077))
            ThreePointArc((134.847725904, 38.227274077), (130.705590281, 28.22727408), (120.705590284, 24.085138457))
        make_face()
    extrude(amount=CUT_EXTRUDE10_DEPTH, mode=Mode.SUBTRACT)

    # Sketch14 → Cut-Extrude11 (cut)
    with BuildSketch(Plane.XY):
        with Locations((47.261123367, 151.785138461)):
            Circle(SKETCH14_R)
        with Locations((62.347725907, 151.785138461)):
            Circle(SKETCH14_R)
    extrude(amount=CUT_EXTRUDE11_DEPTH, mode=Mode.SUBTRACT)


solid = part_1.part
